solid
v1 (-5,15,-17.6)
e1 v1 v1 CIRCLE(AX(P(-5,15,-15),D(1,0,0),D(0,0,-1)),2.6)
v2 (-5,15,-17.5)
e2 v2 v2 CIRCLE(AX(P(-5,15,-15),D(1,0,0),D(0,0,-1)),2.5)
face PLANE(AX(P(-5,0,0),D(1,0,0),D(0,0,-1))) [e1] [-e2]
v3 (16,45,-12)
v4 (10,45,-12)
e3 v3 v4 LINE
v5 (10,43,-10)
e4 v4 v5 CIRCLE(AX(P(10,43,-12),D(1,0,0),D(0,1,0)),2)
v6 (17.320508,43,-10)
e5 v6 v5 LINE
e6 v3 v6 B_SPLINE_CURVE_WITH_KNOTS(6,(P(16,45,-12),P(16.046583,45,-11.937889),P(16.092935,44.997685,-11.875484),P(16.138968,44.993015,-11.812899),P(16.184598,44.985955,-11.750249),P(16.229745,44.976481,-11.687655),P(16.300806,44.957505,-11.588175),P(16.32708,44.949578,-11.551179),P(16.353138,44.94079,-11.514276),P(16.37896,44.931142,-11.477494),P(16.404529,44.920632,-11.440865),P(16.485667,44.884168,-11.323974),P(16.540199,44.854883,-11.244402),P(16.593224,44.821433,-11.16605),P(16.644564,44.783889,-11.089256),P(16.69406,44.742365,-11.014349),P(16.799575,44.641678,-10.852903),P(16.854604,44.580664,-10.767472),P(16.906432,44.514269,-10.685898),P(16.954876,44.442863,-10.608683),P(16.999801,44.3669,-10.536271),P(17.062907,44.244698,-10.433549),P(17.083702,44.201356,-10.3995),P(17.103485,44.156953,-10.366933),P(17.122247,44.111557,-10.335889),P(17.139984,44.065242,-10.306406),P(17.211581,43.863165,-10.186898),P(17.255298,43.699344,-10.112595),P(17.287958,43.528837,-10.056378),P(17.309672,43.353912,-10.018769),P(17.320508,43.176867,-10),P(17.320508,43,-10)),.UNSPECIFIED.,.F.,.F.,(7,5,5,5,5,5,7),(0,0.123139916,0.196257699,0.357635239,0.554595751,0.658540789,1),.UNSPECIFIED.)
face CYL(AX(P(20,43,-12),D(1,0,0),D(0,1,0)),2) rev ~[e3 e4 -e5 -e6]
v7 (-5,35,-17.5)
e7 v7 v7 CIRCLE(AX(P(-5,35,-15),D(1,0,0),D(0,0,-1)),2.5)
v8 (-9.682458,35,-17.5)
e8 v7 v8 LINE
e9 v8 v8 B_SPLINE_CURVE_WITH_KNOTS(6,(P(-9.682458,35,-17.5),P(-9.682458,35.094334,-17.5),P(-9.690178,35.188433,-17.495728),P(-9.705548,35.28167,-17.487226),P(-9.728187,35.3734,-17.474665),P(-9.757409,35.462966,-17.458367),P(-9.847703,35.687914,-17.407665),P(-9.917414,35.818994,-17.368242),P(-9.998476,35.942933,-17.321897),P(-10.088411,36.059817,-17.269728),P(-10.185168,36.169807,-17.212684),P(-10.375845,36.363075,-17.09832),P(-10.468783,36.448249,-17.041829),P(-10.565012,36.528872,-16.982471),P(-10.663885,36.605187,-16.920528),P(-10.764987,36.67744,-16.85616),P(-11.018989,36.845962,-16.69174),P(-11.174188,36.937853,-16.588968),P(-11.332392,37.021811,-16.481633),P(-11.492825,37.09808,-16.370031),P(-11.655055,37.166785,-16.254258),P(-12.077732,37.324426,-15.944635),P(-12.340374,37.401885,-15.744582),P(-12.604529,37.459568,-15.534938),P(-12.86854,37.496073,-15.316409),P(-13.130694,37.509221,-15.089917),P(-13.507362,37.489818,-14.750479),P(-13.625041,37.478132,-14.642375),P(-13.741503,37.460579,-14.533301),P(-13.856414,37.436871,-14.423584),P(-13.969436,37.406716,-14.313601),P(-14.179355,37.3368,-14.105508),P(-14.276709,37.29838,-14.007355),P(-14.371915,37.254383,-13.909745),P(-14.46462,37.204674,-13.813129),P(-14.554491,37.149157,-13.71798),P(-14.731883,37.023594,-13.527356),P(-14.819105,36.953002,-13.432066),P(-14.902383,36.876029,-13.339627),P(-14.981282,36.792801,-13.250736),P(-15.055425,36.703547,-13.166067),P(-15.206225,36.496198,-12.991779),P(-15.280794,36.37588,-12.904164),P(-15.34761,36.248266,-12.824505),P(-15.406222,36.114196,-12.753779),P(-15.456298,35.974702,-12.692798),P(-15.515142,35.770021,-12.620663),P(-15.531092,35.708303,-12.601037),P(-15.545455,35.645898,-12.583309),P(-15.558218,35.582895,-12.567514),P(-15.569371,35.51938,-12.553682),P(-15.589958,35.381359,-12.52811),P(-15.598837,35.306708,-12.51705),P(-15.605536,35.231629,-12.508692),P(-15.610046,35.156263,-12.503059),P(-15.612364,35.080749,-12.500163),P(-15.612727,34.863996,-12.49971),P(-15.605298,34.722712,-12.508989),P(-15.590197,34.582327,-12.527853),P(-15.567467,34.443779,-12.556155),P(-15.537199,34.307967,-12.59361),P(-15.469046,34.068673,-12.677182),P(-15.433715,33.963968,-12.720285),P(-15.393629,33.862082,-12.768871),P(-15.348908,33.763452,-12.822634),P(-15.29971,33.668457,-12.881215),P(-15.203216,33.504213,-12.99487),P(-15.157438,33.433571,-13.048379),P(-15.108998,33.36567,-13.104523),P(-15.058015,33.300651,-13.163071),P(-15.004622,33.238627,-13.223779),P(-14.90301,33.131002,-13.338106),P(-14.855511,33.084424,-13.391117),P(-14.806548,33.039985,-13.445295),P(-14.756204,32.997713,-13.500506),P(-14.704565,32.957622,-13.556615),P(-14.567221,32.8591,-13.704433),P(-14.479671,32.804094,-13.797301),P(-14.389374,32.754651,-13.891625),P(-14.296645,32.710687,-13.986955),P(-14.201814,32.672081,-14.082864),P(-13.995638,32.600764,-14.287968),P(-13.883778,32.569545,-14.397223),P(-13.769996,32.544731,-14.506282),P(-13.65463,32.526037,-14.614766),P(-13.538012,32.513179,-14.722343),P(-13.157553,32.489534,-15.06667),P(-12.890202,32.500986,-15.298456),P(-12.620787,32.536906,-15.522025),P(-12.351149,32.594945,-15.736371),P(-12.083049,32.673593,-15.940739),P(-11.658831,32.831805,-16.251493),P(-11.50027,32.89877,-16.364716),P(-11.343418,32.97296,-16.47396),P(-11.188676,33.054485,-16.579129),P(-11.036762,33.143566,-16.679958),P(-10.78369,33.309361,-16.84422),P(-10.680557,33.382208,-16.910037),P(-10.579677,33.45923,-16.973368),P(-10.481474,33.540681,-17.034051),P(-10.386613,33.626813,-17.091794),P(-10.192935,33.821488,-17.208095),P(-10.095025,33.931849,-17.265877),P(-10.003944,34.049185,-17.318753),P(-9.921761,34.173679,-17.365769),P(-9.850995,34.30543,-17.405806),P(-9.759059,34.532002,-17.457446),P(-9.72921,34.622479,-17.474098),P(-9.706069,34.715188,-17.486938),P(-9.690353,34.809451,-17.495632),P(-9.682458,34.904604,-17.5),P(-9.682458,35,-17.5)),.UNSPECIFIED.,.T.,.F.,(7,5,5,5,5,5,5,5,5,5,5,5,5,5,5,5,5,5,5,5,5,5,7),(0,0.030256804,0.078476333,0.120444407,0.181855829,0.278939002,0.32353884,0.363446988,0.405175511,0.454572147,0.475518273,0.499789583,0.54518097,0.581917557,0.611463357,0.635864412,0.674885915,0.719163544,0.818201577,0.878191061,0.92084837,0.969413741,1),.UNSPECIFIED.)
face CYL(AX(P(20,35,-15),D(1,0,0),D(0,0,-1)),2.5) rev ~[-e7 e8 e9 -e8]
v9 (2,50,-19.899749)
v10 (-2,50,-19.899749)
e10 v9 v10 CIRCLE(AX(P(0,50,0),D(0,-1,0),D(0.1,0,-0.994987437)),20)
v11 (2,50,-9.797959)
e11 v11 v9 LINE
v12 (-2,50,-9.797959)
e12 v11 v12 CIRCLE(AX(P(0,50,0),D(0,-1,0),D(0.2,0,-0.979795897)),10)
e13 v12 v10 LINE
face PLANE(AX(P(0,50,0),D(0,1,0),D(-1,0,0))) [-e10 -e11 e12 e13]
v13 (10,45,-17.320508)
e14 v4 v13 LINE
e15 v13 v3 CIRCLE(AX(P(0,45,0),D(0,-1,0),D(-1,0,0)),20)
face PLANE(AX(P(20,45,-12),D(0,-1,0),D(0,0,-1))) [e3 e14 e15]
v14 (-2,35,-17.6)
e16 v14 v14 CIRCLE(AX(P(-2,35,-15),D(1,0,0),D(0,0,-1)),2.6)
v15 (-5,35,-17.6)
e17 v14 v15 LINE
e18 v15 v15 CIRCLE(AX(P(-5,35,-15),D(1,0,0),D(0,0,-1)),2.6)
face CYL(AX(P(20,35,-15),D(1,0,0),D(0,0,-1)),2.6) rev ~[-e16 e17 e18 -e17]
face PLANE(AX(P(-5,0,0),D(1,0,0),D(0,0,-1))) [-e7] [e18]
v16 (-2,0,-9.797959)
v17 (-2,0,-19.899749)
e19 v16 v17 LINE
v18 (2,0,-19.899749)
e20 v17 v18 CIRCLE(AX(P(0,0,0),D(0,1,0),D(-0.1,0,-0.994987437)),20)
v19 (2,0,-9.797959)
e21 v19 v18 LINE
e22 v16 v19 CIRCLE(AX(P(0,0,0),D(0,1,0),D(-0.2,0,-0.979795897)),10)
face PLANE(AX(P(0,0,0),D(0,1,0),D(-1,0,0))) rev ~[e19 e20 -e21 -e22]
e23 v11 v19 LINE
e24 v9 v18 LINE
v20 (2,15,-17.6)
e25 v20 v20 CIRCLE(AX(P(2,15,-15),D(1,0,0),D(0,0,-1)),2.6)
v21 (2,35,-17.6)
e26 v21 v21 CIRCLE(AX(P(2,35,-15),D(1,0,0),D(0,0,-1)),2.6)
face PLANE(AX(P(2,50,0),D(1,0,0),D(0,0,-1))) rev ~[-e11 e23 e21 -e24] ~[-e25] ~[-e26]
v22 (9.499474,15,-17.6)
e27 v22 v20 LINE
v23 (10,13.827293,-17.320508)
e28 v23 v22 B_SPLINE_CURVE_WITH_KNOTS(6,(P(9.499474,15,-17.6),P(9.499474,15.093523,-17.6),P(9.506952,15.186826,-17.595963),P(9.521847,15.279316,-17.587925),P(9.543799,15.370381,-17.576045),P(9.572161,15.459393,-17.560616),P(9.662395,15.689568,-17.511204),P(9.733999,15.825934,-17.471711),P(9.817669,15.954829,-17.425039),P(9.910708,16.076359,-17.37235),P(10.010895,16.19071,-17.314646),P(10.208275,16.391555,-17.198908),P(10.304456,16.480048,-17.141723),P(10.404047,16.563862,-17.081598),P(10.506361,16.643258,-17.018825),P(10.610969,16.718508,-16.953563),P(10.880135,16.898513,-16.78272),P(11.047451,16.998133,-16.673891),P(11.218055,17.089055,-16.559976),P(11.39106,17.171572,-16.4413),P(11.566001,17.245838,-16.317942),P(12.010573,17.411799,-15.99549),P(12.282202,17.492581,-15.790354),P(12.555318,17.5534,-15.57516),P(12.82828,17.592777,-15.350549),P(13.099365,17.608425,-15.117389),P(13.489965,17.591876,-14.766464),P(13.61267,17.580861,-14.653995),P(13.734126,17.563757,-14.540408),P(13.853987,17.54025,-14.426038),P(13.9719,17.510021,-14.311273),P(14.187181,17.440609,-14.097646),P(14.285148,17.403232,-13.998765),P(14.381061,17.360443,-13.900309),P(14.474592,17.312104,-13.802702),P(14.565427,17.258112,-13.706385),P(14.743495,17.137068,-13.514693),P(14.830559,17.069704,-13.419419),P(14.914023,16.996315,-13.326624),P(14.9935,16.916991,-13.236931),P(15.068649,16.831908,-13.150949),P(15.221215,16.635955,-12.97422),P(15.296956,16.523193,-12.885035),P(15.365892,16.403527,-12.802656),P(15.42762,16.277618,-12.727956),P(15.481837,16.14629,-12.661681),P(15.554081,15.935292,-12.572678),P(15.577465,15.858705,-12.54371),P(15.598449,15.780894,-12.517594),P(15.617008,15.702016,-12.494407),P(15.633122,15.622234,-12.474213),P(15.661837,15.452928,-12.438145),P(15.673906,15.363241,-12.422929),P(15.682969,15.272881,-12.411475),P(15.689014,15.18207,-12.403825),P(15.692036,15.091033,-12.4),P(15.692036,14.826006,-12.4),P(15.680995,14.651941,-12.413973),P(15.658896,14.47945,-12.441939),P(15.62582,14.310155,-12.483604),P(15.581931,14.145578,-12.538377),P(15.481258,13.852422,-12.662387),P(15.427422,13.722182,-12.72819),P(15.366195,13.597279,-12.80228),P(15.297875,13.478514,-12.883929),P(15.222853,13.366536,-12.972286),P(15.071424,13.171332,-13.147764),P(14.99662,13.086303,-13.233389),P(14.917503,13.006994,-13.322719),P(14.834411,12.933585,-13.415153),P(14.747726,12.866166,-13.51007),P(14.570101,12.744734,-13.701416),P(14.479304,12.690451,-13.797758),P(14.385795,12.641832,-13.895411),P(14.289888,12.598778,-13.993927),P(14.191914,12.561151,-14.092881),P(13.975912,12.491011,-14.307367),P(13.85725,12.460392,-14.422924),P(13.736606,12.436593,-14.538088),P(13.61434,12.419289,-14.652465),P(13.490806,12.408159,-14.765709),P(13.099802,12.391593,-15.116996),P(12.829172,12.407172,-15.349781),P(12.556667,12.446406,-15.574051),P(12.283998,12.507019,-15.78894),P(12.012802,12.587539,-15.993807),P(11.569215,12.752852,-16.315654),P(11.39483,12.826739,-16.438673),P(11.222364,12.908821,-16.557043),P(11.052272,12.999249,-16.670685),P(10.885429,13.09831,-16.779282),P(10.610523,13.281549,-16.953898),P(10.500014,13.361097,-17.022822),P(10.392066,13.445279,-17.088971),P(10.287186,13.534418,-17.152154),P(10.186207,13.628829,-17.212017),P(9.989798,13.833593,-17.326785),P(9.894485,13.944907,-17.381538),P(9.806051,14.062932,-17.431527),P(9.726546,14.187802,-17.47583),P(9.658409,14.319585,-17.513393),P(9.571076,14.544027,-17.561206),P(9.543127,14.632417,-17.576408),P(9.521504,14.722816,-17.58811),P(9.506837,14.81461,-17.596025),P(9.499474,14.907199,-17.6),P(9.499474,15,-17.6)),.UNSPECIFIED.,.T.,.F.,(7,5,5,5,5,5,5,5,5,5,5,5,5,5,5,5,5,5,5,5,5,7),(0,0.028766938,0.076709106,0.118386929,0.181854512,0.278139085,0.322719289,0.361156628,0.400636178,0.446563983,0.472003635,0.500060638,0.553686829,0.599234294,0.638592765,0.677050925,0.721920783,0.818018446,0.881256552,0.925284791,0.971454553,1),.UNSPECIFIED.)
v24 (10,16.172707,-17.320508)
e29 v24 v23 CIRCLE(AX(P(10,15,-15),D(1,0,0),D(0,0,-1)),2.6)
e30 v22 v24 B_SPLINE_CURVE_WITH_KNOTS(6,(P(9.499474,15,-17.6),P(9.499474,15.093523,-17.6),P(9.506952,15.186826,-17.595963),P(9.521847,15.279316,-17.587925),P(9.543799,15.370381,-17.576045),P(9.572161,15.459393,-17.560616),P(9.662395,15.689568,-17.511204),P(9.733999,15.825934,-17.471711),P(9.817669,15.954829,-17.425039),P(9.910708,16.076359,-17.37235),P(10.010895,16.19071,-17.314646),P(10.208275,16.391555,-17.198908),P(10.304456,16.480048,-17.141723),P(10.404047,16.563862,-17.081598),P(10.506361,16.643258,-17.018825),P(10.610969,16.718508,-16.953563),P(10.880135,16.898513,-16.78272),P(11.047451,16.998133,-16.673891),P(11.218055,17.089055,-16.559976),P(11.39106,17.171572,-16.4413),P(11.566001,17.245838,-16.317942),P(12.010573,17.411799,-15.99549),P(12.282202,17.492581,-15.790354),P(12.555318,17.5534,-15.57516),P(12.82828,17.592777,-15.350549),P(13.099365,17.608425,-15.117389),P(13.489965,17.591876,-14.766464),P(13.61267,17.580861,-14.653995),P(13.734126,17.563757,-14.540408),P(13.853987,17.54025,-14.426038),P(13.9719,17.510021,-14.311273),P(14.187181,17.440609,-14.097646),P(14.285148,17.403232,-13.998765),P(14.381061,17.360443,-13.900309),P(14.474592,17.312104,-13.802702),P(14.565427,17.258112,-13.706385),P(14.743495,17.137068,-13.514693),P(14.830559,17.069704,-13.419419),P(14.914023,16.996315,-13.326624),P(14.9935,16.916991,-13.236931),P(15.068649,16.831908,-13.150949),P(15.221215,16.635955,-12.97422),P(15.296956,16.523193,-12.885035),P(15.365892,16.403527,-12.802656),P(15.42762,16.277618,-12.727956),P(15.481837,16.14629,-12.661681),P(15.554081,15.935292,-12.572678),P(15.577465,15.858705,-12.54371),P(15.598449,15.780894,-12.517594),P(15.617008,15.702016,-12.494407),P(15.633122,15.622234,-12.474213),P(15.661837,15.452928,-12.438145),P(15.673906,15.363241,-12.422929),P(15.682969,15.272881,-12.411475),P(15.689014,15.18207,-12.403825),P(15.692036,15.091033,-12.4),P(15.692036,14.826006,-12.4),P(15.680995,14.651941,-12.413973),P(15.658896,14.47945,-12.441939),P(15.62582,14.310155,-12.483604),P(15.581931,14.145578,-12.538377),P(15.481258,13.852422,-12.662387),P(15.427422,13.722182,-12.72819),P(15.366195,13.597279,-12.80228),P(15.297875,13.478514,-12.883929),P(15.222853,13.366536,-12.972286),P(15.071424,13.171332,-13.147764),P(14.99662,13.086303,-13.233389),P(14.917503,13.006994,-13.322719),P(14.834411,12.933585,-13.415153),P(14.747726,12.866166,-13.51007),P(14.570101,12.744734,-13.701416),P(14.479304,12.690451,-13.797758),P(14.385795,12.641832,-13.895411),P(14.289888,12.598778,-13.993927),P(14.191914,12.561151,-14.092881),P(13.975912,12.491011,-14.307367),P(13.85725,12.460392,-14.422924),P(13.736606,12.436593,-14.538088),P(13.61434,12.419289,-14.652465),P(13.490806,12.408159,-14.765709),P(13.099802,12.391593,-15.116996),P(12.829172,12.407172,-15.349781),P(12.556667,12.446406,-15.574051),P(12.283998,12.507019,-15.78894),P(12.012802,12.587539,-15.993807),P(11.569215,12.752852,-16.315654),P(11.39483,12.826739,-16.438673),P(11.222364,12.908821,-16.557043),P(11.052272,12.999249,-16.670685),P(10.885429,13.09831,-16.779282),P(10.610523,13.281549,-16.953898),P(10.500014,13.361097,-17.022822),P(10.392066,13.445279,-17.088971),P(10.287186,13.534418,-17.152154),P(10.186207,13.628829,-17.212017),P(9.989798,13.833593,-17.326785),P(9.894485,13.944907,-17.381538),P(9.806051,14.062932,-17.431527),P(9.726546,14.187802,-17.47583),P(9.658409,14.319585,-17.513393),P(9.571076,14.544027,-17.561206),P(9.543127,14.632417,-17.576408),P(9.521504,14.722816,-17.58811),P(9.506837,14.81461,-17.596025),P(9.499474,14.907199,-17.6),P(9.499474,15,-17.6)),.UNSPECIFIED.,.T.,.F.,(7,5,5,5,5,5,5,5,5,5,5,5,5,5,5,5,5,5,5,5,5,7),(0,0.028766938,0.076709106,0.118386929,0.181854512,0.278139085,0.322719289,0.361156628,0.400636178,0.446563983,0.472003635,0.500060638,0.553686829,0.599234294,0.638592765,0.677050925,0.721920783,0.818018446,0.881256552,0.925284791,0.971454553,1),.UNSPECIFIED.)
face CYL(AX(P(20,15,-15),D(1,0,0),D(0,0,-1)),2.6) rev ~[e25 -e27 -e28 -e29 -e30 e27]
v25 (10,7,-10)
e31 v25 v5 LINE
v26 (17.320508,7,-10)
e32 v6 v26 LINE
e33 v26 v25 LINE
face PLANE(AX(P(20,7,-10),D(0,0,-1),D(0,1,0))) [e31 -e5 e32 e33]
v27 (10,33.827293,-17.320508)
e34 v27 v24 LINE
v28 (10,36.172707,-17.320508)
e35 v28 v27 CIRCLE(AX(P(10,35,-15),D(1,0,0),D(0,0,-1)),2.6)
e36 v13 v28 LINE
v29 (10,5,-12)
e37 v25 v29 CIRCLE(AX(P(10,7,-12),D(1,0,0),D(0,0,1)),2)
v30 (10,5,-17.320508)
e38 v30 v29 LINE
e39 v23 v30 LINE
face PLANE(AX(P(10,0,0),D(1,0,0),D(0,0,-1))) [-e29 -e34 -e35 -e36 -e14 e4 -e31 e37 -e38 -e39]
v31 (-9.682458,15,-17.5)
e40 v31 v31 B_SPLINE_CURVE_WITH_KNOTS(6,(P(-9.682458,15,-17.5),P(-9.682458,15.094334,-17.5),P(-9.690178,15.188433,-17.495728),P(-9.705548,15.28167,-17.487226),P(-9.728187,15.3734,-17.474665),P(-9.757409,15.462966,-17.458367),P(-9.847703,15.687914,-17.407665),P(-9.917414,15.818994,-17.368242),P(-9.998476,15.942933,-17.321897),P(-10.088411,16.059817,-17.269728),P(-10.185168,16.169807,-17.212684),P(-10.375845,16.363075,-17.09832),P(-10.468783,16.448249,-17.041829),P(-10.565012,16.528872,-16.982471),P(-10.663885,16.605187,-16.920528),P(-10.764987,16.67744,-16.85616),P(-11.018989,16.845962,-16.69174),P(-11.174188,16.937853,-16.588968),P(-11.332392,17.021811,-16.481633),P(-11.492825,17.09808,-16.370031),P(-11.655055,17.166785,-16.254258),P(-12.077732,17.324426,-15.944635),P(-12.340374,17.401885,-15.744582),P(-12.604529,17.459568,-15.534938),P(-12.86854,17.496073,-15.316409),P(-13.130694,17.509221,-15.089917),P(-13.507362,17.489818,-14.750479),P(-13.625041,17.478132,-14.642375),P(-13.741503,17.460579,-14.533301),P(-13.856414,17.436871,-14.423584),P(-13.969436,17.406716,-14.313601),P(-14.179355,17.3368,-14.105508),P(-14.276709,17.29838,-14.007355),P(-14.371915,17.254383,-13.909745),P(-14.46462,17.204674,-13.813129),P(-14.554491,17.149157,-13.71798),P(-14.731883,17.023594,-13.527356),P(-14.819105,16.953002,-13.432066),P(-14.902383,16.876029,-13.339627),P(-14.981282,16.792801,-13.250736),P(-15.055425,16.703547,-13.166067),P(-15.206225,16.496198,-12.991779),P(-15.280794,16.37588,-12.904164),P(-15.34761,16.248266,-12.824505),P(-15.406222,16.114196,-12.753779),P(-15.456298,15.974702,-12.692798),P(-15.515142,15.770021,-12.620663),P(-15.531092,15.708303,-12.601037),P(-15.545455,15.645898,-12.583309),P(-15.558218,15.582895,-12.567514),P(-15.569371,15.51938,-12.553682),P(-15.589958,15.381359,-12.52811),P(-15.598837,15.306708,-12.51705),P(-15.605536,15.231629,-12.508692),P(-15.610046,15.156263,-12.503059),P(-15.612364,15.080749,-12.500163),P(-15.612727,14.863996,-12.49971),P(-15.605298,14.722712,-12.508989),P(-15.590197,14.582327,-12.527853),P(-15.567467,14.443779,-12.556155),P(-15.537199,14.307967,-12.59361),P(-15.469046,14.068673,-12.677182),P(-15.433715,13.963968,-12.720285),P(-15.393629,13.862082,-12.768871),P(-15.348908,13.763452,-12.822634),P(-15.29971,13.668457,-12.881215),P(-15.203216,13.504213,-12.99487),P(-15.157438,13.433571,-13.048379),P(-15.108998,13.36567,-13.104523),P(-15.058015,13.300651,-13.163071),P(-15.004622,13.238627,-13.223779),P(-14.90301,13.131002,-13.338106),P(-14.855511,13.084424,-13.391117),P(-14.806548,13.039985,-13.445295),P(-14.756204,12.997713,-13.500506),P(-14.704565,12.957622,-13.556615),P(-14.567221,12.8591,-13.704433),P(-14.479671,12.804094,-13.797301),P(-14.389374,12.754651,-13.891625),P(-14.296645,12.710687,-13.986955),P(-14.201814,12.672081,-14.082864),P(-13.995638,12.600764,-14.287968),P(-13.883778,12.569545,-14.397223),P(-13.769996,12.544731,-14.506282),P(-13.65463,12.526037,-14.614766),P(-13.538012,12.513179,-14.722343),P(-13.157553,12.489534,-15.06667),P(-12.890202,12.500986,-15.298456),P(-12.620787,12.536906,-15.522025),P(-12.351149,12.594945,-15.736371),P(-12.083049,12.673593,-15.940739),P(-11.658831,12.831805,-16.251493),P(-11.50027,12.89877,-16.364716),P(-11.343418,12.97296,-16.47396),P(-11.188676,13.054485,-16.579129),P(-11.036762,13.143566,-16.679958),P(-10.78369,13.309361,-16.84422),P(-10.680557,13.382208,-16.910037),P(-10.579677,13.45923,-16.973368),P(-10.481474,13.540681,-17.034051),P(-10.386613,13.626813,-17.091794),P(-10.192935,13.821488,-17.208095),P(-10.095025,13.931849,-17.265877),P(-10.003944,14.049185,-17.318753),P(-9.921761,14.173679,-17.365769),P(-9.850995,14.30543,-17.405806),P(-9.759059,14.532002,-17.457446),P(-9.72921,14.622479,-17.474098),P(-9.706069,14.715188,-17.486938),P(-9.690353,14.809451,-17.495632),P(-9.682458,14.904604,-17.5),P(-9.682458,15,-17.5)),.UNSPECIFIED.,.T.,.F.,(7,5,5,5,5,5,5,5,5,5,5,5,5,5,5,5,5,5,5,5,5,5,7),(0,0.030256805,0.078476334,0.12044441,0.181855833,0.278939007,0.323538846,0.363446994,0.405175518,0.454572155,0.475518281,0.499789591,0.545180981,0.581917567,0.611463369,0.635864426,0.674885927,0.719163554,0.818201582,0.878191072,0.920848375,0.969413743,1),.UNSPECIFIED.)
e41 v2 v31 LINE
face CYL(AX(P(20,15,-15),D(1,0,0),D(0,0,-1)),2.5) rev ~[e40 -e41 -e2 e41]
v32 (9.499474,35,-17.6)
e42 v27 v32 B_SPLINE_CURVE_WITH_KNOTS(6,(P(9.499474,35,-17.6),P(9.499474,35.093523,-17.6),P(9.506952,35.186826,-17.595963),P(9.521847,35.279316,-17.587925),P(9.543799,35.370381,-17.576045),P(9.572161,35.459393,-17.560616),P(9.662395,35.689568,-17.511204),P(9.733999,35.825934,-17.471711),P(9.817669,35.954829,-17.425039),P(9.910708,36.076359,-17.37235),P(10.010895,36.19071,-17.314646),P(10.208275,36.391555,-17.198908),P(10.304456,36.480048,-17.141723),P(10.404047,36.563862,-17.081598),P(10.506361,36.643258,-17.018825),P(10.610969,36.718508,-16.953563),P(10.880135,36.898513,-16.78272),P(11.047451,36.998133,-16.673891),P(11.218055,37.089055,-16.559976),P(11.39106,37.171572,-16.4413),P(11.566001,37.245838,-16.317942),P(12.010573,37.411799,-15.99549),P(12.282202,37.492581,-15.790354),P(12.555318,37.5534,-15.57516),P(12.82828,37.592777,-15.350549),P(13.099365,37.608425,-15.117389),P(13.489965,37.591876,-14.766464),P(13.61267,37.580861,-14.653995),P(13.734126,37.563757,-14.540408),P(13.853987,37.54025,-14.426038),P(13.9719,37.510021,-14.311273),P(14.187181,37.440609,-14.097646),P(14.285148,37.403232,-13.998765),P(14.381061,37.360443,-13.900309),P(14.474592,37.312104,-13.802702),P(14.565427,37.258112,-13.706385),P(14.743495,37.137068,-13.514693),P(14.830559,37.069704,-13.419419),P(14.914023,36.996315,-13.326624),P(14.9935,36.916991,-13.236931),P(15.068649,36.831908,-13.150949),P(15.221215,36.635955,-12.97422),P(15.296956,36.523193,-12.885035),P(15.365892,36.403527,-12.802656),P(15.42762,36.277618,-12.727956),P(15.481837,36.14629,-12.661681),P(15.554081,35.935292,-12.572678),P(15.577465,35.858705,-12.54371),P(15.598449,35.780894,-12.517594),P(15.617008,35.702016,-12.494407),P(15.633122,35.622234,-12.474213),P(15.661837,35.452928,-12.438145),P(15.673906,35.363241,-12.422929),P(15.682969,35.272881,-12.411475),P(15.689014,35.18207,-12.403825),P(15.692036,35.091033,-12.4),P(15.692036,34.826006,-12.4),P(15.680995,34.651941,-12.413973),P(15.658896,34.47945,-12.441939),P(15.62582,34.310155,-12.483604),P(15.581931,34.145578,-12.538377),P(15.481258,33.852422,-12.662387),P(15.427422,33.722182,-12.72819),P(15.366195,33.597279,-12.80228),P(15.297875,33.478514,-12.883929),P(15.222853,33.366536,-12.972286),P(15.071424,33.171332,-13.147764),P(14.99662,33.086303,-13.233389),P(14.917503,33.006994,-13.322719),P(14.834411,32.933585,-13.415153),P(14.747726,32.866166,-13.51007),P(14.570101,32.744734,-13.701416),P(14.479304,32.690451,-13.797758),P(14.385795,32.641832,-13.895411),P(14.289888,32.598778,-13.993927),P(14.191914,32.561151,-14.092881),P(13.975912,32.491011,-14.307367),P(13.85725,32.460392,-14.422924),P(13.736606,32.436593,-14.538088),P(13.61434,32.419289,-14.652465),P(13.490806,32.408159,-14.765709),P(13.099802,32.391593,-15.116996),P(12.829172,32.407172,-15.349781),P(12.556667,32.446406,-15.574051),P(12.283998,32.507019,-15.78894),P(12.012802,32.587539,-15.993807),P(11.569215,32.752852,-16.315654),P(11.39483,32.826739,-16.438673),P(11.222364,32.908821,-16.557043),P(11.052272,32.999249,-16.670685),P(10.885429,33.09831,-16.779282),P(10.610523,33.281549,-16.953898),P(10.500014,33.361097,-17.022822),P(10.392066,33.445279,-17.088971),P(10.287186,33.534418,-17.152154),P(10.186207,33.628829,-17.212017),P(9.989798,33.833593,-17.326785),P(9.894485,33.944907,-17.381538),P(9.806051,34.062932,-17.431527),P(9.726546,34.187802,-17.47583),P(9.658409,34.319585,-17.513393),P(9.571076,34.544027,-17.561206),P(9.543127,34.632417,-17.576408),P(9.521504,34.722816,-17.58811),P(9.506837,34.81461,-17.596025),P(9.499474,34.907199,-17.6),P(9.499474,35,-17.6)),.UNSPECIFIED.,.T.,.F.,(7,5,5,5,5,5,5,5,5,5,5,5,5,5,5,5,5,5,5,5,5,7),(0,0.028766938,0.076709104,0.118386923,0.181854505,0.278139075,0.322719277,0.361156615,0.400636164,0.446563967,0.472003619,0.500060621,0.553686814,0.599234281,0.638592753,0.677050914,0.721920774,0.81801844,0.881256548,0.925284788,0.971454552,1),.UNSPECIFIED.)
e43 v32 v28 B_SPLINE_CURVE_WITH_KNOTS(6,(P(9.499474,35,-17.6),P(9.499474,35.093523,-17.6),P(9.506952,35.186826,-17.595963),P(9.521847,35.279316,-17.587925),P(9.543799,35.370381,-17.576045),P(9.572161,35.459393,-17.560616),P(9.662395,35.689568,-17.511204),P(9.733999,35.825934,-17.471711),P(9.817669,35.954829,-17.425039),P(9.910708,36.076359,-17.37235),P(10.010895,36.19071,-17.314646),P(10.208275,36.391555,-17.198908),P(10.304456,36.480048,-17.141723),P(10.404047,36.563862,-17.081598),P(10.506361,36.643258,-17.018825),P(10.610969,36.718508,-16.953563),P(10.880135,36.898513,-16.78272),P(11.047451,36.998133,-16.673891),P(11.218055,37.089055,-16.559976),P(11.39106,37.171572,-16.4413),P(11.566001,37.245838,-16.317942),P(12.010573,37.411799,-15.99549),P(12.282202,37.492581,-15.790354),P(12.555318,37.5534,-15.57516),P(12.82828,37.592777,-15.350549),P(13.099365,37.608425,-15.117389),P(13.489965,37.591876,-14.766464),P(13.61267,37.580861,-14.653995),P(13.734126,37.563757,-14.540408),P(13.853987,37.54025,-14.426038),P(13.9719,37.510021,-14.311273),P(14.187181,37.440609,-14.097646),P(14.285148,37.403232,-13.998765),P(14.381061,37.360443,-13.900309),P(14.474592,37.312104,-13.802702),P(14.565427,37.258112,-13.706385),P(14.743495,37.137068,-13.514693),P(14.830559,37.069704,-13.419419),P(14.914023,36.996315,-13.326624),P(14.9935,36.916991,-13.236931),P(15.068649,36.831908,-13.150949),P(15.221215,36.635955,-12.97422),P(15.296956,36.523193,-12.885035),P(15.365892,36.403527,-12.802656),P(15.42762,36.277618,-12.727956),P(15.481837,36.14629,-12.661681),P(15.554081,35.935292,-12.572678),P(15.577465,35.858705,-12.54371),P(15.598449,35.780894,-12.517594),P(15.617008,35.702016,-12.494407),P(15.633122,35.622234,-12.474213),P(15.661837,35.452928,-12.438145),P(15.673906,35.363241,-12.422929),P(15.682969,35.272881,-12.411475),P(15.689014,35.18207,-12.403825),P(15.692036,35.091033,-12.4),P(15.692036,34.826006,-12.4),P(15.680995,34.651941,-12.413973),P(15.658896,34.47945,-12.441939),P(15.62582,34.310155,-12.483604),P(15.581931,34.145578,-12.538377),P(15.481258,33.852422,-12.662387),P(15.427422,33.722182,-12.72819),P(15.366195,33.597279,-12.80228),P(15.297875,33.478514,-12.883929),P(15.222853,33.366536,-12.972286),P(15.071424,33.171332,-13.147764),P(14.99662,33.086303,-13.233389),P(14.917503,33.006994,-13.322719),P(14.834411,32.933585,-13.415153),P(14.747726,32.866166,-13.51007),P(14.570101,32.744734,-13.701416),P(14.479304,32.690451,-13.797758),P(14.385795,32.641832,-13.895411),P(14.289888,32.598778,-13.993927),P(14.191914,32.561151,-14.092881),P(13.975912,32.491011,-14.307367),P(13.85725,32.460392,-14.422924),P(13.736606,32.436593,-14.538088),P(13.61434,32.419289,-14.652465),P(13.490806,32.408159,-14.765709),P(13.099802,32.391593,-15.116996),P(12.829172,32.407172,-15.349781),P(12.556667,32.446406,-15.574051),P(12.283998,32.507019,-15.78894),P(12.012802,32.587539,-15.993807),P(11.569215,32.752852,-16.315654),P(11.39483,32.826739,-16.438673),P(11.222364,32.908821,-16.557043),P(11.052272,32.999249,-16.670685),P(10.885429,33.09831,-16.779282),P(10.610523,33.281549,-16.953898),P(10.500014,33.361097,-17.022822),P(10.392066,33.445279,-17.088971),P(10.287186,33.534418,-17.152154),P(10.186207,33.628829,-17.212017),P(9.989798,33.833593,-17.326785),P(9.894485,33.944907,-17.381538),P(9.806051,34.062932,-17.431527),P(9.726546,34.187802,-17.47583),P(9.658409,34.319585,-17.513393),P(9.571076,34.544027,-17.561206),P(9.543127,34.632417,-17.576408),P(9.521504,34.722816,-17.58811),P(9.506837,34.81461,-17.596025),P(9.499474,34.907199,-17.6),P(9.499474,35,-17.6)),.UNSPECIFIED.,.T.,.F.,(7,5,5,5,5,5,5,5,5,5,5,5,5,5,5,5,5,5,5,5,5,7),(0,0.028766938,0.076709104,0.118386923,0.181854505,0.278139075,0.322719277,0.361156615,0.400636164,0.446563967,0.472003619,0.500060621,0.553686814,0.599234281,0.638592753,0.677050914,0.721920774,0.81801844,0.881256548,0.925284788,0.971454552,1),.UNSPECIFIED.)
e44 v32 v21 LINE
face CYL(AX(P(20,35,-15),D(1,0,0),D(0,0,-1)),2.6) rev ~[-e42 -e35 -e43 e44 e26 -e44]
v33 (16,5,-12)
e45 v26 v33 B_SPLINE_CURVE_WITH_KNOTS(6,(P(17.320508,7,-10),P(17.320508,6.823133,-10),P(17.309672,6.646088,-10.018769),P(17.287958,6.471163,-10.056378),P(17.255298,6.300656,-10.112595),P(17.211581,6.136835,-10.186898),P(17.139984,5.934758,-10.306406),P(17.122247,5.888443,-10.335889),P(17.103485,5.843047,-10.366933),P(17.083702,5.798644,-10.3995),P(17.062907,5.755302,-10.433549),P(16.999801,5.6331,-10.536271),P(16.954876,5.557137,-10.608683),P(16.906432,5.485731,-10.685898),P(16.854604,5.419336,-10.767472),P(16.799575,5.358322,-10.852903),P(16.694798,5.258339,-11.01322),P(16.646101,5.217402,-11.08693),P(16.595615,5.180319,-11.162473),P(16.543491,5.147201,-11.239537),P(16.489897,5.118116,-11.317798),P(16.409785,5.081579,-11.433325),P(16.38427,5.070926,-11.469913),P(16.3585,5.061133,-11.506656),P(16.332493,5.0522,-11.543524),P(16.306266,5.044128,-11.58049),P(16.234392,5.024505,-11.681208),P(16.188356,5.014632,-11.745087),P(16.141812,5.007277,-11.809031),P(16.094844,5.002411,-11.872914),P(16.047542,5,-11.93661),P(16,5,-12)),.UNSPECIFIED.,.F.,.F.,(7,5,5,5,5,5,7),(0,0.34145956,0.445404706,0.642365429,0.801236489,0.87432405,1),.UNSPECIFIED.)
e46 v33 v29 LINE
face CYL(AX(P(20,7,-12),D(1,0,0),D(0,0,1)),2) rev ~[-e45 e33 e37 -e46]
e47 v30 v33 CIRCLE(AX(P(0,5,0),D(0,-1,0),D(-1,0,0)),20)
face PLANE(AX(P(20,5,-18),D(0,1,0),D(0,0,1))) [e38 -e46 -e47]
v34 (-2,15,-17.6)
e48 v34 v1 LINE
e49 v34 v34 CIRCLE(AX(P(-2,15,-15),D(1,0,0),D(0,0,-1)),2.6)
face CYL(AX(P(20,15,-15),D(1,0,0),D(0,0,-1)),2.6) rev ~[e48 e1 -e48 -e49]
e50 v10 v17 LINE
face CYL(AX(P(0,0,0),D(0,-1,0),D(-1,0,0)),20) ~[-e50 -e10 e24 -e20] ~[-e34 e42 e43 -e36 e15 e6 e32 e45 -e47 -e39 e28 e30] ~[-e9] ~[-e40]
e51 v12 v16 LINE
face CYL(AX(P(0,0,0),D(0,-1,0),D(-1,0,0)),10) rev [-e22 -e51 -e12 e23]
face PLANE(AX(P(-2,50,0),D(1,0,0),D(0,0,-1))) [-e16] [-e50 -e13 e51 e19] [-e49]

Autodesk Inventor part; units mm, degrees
ref_plane "YZ Plane" through (0, 0, 0) normal (1, 0, 0) x (0, 1, 0)
ref_plane "XZ Plane" through (0, 0, 0) normal (0, 1, 0) x (-1, 0, 0)
sketch "Skizze1" plane through (0, 0, 0) normal (0, 1, 0) x (-1, 0, 0)
  circle A0 centre (0, 0) radius 10
  circle A1 centre (0, 0) radius 20
  dimension "d0" = 20
  dimension "d1" = 40
extrude "Extrusion1" add sketch "Skizze1" along normal blind 50
sketch "Skizze2" plane through (0, 50, 0) normal (0, 1, 0) x (1, 0, 0)
  line L0 (0, 0) -> (2, 0)
  line L1 (2, 0) -> (2, 25)
  line L2 (2, 25) -> (0, 25)
  line L3 (0, 25) -> (0, 0)
  line L4 (0, 0) -> (-2, 0)
  line L5 (-2, 0) -> (-2, 25)
  line L6 (-2, 25) -> (0, 25)
  line L7 (0, 25) -> (0, 0)
  dimension "d4" = 2
  dimension "d5" = 25
  dimension "d6" = 2
  dimension "d7" = 25
extrude "Extrusion2" cut sketch "Skizze2" against normal blind 50
ref_plane "Arbeitsebene1" through (20, 0, 0) normal (1, 0, 0) x (0, 0, -1)
sketch "Skizze5" plane through (20, 0, 0) normal (1, 0, 0) x (0, 0, -1)
  line L0 (0, 0) -> (10, 0)
  line L1 (-10, 0) -> (9.798, 0) projected
  line L2 (10, 0) -> (10, 5)
  line L3 (10, 7) -> (10, 43)
  line L4 (12, 45) -> (18, 45)
  line L5 (20, 43) -> (20, 7)
  line L6 (18, 5) -> (12, 5)
  arc A0 (18, 5) -> (20, 7) centre (18, 7) ccw
  arc A1 (10, 7) -> (12, 5) centre (12, 7) ccw
  arc A2 (12, 45) -> (10, 43) centre (12, 43) ccw
  arc A3 (20, 43) -> (18, 45) centre (18, 43) ccw
  point P0 (10, 45)
  point P1 (20, 45)
  dimension "d11" = 10
  dimension "d12" = 5
  dimension "d13" = 40
  dimension "d14" = 10
  dimension "d15" = 2
extrude "Extrusion3" cut sketch "Skizze5" against normal blind 10
sketch "Skizze6" plane through (20, 0, 0) normal (1, 0, 0) x (0, 0, -1)
  line L0 (17.3205, 5) -> (12, 5) projected
  line L1 (15, 5) -> (15, 15)
  line L2 (15, 15) -> (15, 35)
  circle A0 centre (15, 15) radius 2.5
  circle A1 centre (15, 35) radius 2.5
  point P0 (0, 0)
  point P1 (18, 5)
  dimension "d18" = 10
  dimension "d19" = 20
  dimension "d20" = 5
  dimension "d21" = 5
extrude "Extrusion4" cut sketch "Skizze6" against normal through all
thread "Gewinde1" size "M5x0.8" class "6H" standard "ANSI Metric M Profile" full length
sketch "Skizze8" plane through (20, 0, 0) normal (1, 0, 0) x (0, 0, -1)
  circle A0 centre (15, 35) radius 2.5 projected
  circle A1 centre (15, 35) radius 2.6
  arc A2 (17.3205, 15.9302) -> (17.3205, 14.0698) centre (15, 15) ccw projected
  circle A3 centre (15, 15) radius 2.6
  point P0 (0, 0)
  point P1 (14.8661, 37.4964)
  point P2 (14.8661, 32.5036)
  dimension "d30" = 5.2
  dimension "d31" = 5.2
extrude "Extrusion6" cut sketch "Skizze8" against normal blind 25 contours A0 | A1 | A3
thread "Gewinde2" size "M5x0.8" class "6H" standard "ANSI Metric M Profile" full length
thread "Gewinde3" size "M5x0.8" class "6H" standard "ANSI Metric M Profile" full length
equation "\"d0\" = durchmesser"
equation "\"durchmesser\" = 20"
properties part number "StoperKlein" material "PVC, hart"
